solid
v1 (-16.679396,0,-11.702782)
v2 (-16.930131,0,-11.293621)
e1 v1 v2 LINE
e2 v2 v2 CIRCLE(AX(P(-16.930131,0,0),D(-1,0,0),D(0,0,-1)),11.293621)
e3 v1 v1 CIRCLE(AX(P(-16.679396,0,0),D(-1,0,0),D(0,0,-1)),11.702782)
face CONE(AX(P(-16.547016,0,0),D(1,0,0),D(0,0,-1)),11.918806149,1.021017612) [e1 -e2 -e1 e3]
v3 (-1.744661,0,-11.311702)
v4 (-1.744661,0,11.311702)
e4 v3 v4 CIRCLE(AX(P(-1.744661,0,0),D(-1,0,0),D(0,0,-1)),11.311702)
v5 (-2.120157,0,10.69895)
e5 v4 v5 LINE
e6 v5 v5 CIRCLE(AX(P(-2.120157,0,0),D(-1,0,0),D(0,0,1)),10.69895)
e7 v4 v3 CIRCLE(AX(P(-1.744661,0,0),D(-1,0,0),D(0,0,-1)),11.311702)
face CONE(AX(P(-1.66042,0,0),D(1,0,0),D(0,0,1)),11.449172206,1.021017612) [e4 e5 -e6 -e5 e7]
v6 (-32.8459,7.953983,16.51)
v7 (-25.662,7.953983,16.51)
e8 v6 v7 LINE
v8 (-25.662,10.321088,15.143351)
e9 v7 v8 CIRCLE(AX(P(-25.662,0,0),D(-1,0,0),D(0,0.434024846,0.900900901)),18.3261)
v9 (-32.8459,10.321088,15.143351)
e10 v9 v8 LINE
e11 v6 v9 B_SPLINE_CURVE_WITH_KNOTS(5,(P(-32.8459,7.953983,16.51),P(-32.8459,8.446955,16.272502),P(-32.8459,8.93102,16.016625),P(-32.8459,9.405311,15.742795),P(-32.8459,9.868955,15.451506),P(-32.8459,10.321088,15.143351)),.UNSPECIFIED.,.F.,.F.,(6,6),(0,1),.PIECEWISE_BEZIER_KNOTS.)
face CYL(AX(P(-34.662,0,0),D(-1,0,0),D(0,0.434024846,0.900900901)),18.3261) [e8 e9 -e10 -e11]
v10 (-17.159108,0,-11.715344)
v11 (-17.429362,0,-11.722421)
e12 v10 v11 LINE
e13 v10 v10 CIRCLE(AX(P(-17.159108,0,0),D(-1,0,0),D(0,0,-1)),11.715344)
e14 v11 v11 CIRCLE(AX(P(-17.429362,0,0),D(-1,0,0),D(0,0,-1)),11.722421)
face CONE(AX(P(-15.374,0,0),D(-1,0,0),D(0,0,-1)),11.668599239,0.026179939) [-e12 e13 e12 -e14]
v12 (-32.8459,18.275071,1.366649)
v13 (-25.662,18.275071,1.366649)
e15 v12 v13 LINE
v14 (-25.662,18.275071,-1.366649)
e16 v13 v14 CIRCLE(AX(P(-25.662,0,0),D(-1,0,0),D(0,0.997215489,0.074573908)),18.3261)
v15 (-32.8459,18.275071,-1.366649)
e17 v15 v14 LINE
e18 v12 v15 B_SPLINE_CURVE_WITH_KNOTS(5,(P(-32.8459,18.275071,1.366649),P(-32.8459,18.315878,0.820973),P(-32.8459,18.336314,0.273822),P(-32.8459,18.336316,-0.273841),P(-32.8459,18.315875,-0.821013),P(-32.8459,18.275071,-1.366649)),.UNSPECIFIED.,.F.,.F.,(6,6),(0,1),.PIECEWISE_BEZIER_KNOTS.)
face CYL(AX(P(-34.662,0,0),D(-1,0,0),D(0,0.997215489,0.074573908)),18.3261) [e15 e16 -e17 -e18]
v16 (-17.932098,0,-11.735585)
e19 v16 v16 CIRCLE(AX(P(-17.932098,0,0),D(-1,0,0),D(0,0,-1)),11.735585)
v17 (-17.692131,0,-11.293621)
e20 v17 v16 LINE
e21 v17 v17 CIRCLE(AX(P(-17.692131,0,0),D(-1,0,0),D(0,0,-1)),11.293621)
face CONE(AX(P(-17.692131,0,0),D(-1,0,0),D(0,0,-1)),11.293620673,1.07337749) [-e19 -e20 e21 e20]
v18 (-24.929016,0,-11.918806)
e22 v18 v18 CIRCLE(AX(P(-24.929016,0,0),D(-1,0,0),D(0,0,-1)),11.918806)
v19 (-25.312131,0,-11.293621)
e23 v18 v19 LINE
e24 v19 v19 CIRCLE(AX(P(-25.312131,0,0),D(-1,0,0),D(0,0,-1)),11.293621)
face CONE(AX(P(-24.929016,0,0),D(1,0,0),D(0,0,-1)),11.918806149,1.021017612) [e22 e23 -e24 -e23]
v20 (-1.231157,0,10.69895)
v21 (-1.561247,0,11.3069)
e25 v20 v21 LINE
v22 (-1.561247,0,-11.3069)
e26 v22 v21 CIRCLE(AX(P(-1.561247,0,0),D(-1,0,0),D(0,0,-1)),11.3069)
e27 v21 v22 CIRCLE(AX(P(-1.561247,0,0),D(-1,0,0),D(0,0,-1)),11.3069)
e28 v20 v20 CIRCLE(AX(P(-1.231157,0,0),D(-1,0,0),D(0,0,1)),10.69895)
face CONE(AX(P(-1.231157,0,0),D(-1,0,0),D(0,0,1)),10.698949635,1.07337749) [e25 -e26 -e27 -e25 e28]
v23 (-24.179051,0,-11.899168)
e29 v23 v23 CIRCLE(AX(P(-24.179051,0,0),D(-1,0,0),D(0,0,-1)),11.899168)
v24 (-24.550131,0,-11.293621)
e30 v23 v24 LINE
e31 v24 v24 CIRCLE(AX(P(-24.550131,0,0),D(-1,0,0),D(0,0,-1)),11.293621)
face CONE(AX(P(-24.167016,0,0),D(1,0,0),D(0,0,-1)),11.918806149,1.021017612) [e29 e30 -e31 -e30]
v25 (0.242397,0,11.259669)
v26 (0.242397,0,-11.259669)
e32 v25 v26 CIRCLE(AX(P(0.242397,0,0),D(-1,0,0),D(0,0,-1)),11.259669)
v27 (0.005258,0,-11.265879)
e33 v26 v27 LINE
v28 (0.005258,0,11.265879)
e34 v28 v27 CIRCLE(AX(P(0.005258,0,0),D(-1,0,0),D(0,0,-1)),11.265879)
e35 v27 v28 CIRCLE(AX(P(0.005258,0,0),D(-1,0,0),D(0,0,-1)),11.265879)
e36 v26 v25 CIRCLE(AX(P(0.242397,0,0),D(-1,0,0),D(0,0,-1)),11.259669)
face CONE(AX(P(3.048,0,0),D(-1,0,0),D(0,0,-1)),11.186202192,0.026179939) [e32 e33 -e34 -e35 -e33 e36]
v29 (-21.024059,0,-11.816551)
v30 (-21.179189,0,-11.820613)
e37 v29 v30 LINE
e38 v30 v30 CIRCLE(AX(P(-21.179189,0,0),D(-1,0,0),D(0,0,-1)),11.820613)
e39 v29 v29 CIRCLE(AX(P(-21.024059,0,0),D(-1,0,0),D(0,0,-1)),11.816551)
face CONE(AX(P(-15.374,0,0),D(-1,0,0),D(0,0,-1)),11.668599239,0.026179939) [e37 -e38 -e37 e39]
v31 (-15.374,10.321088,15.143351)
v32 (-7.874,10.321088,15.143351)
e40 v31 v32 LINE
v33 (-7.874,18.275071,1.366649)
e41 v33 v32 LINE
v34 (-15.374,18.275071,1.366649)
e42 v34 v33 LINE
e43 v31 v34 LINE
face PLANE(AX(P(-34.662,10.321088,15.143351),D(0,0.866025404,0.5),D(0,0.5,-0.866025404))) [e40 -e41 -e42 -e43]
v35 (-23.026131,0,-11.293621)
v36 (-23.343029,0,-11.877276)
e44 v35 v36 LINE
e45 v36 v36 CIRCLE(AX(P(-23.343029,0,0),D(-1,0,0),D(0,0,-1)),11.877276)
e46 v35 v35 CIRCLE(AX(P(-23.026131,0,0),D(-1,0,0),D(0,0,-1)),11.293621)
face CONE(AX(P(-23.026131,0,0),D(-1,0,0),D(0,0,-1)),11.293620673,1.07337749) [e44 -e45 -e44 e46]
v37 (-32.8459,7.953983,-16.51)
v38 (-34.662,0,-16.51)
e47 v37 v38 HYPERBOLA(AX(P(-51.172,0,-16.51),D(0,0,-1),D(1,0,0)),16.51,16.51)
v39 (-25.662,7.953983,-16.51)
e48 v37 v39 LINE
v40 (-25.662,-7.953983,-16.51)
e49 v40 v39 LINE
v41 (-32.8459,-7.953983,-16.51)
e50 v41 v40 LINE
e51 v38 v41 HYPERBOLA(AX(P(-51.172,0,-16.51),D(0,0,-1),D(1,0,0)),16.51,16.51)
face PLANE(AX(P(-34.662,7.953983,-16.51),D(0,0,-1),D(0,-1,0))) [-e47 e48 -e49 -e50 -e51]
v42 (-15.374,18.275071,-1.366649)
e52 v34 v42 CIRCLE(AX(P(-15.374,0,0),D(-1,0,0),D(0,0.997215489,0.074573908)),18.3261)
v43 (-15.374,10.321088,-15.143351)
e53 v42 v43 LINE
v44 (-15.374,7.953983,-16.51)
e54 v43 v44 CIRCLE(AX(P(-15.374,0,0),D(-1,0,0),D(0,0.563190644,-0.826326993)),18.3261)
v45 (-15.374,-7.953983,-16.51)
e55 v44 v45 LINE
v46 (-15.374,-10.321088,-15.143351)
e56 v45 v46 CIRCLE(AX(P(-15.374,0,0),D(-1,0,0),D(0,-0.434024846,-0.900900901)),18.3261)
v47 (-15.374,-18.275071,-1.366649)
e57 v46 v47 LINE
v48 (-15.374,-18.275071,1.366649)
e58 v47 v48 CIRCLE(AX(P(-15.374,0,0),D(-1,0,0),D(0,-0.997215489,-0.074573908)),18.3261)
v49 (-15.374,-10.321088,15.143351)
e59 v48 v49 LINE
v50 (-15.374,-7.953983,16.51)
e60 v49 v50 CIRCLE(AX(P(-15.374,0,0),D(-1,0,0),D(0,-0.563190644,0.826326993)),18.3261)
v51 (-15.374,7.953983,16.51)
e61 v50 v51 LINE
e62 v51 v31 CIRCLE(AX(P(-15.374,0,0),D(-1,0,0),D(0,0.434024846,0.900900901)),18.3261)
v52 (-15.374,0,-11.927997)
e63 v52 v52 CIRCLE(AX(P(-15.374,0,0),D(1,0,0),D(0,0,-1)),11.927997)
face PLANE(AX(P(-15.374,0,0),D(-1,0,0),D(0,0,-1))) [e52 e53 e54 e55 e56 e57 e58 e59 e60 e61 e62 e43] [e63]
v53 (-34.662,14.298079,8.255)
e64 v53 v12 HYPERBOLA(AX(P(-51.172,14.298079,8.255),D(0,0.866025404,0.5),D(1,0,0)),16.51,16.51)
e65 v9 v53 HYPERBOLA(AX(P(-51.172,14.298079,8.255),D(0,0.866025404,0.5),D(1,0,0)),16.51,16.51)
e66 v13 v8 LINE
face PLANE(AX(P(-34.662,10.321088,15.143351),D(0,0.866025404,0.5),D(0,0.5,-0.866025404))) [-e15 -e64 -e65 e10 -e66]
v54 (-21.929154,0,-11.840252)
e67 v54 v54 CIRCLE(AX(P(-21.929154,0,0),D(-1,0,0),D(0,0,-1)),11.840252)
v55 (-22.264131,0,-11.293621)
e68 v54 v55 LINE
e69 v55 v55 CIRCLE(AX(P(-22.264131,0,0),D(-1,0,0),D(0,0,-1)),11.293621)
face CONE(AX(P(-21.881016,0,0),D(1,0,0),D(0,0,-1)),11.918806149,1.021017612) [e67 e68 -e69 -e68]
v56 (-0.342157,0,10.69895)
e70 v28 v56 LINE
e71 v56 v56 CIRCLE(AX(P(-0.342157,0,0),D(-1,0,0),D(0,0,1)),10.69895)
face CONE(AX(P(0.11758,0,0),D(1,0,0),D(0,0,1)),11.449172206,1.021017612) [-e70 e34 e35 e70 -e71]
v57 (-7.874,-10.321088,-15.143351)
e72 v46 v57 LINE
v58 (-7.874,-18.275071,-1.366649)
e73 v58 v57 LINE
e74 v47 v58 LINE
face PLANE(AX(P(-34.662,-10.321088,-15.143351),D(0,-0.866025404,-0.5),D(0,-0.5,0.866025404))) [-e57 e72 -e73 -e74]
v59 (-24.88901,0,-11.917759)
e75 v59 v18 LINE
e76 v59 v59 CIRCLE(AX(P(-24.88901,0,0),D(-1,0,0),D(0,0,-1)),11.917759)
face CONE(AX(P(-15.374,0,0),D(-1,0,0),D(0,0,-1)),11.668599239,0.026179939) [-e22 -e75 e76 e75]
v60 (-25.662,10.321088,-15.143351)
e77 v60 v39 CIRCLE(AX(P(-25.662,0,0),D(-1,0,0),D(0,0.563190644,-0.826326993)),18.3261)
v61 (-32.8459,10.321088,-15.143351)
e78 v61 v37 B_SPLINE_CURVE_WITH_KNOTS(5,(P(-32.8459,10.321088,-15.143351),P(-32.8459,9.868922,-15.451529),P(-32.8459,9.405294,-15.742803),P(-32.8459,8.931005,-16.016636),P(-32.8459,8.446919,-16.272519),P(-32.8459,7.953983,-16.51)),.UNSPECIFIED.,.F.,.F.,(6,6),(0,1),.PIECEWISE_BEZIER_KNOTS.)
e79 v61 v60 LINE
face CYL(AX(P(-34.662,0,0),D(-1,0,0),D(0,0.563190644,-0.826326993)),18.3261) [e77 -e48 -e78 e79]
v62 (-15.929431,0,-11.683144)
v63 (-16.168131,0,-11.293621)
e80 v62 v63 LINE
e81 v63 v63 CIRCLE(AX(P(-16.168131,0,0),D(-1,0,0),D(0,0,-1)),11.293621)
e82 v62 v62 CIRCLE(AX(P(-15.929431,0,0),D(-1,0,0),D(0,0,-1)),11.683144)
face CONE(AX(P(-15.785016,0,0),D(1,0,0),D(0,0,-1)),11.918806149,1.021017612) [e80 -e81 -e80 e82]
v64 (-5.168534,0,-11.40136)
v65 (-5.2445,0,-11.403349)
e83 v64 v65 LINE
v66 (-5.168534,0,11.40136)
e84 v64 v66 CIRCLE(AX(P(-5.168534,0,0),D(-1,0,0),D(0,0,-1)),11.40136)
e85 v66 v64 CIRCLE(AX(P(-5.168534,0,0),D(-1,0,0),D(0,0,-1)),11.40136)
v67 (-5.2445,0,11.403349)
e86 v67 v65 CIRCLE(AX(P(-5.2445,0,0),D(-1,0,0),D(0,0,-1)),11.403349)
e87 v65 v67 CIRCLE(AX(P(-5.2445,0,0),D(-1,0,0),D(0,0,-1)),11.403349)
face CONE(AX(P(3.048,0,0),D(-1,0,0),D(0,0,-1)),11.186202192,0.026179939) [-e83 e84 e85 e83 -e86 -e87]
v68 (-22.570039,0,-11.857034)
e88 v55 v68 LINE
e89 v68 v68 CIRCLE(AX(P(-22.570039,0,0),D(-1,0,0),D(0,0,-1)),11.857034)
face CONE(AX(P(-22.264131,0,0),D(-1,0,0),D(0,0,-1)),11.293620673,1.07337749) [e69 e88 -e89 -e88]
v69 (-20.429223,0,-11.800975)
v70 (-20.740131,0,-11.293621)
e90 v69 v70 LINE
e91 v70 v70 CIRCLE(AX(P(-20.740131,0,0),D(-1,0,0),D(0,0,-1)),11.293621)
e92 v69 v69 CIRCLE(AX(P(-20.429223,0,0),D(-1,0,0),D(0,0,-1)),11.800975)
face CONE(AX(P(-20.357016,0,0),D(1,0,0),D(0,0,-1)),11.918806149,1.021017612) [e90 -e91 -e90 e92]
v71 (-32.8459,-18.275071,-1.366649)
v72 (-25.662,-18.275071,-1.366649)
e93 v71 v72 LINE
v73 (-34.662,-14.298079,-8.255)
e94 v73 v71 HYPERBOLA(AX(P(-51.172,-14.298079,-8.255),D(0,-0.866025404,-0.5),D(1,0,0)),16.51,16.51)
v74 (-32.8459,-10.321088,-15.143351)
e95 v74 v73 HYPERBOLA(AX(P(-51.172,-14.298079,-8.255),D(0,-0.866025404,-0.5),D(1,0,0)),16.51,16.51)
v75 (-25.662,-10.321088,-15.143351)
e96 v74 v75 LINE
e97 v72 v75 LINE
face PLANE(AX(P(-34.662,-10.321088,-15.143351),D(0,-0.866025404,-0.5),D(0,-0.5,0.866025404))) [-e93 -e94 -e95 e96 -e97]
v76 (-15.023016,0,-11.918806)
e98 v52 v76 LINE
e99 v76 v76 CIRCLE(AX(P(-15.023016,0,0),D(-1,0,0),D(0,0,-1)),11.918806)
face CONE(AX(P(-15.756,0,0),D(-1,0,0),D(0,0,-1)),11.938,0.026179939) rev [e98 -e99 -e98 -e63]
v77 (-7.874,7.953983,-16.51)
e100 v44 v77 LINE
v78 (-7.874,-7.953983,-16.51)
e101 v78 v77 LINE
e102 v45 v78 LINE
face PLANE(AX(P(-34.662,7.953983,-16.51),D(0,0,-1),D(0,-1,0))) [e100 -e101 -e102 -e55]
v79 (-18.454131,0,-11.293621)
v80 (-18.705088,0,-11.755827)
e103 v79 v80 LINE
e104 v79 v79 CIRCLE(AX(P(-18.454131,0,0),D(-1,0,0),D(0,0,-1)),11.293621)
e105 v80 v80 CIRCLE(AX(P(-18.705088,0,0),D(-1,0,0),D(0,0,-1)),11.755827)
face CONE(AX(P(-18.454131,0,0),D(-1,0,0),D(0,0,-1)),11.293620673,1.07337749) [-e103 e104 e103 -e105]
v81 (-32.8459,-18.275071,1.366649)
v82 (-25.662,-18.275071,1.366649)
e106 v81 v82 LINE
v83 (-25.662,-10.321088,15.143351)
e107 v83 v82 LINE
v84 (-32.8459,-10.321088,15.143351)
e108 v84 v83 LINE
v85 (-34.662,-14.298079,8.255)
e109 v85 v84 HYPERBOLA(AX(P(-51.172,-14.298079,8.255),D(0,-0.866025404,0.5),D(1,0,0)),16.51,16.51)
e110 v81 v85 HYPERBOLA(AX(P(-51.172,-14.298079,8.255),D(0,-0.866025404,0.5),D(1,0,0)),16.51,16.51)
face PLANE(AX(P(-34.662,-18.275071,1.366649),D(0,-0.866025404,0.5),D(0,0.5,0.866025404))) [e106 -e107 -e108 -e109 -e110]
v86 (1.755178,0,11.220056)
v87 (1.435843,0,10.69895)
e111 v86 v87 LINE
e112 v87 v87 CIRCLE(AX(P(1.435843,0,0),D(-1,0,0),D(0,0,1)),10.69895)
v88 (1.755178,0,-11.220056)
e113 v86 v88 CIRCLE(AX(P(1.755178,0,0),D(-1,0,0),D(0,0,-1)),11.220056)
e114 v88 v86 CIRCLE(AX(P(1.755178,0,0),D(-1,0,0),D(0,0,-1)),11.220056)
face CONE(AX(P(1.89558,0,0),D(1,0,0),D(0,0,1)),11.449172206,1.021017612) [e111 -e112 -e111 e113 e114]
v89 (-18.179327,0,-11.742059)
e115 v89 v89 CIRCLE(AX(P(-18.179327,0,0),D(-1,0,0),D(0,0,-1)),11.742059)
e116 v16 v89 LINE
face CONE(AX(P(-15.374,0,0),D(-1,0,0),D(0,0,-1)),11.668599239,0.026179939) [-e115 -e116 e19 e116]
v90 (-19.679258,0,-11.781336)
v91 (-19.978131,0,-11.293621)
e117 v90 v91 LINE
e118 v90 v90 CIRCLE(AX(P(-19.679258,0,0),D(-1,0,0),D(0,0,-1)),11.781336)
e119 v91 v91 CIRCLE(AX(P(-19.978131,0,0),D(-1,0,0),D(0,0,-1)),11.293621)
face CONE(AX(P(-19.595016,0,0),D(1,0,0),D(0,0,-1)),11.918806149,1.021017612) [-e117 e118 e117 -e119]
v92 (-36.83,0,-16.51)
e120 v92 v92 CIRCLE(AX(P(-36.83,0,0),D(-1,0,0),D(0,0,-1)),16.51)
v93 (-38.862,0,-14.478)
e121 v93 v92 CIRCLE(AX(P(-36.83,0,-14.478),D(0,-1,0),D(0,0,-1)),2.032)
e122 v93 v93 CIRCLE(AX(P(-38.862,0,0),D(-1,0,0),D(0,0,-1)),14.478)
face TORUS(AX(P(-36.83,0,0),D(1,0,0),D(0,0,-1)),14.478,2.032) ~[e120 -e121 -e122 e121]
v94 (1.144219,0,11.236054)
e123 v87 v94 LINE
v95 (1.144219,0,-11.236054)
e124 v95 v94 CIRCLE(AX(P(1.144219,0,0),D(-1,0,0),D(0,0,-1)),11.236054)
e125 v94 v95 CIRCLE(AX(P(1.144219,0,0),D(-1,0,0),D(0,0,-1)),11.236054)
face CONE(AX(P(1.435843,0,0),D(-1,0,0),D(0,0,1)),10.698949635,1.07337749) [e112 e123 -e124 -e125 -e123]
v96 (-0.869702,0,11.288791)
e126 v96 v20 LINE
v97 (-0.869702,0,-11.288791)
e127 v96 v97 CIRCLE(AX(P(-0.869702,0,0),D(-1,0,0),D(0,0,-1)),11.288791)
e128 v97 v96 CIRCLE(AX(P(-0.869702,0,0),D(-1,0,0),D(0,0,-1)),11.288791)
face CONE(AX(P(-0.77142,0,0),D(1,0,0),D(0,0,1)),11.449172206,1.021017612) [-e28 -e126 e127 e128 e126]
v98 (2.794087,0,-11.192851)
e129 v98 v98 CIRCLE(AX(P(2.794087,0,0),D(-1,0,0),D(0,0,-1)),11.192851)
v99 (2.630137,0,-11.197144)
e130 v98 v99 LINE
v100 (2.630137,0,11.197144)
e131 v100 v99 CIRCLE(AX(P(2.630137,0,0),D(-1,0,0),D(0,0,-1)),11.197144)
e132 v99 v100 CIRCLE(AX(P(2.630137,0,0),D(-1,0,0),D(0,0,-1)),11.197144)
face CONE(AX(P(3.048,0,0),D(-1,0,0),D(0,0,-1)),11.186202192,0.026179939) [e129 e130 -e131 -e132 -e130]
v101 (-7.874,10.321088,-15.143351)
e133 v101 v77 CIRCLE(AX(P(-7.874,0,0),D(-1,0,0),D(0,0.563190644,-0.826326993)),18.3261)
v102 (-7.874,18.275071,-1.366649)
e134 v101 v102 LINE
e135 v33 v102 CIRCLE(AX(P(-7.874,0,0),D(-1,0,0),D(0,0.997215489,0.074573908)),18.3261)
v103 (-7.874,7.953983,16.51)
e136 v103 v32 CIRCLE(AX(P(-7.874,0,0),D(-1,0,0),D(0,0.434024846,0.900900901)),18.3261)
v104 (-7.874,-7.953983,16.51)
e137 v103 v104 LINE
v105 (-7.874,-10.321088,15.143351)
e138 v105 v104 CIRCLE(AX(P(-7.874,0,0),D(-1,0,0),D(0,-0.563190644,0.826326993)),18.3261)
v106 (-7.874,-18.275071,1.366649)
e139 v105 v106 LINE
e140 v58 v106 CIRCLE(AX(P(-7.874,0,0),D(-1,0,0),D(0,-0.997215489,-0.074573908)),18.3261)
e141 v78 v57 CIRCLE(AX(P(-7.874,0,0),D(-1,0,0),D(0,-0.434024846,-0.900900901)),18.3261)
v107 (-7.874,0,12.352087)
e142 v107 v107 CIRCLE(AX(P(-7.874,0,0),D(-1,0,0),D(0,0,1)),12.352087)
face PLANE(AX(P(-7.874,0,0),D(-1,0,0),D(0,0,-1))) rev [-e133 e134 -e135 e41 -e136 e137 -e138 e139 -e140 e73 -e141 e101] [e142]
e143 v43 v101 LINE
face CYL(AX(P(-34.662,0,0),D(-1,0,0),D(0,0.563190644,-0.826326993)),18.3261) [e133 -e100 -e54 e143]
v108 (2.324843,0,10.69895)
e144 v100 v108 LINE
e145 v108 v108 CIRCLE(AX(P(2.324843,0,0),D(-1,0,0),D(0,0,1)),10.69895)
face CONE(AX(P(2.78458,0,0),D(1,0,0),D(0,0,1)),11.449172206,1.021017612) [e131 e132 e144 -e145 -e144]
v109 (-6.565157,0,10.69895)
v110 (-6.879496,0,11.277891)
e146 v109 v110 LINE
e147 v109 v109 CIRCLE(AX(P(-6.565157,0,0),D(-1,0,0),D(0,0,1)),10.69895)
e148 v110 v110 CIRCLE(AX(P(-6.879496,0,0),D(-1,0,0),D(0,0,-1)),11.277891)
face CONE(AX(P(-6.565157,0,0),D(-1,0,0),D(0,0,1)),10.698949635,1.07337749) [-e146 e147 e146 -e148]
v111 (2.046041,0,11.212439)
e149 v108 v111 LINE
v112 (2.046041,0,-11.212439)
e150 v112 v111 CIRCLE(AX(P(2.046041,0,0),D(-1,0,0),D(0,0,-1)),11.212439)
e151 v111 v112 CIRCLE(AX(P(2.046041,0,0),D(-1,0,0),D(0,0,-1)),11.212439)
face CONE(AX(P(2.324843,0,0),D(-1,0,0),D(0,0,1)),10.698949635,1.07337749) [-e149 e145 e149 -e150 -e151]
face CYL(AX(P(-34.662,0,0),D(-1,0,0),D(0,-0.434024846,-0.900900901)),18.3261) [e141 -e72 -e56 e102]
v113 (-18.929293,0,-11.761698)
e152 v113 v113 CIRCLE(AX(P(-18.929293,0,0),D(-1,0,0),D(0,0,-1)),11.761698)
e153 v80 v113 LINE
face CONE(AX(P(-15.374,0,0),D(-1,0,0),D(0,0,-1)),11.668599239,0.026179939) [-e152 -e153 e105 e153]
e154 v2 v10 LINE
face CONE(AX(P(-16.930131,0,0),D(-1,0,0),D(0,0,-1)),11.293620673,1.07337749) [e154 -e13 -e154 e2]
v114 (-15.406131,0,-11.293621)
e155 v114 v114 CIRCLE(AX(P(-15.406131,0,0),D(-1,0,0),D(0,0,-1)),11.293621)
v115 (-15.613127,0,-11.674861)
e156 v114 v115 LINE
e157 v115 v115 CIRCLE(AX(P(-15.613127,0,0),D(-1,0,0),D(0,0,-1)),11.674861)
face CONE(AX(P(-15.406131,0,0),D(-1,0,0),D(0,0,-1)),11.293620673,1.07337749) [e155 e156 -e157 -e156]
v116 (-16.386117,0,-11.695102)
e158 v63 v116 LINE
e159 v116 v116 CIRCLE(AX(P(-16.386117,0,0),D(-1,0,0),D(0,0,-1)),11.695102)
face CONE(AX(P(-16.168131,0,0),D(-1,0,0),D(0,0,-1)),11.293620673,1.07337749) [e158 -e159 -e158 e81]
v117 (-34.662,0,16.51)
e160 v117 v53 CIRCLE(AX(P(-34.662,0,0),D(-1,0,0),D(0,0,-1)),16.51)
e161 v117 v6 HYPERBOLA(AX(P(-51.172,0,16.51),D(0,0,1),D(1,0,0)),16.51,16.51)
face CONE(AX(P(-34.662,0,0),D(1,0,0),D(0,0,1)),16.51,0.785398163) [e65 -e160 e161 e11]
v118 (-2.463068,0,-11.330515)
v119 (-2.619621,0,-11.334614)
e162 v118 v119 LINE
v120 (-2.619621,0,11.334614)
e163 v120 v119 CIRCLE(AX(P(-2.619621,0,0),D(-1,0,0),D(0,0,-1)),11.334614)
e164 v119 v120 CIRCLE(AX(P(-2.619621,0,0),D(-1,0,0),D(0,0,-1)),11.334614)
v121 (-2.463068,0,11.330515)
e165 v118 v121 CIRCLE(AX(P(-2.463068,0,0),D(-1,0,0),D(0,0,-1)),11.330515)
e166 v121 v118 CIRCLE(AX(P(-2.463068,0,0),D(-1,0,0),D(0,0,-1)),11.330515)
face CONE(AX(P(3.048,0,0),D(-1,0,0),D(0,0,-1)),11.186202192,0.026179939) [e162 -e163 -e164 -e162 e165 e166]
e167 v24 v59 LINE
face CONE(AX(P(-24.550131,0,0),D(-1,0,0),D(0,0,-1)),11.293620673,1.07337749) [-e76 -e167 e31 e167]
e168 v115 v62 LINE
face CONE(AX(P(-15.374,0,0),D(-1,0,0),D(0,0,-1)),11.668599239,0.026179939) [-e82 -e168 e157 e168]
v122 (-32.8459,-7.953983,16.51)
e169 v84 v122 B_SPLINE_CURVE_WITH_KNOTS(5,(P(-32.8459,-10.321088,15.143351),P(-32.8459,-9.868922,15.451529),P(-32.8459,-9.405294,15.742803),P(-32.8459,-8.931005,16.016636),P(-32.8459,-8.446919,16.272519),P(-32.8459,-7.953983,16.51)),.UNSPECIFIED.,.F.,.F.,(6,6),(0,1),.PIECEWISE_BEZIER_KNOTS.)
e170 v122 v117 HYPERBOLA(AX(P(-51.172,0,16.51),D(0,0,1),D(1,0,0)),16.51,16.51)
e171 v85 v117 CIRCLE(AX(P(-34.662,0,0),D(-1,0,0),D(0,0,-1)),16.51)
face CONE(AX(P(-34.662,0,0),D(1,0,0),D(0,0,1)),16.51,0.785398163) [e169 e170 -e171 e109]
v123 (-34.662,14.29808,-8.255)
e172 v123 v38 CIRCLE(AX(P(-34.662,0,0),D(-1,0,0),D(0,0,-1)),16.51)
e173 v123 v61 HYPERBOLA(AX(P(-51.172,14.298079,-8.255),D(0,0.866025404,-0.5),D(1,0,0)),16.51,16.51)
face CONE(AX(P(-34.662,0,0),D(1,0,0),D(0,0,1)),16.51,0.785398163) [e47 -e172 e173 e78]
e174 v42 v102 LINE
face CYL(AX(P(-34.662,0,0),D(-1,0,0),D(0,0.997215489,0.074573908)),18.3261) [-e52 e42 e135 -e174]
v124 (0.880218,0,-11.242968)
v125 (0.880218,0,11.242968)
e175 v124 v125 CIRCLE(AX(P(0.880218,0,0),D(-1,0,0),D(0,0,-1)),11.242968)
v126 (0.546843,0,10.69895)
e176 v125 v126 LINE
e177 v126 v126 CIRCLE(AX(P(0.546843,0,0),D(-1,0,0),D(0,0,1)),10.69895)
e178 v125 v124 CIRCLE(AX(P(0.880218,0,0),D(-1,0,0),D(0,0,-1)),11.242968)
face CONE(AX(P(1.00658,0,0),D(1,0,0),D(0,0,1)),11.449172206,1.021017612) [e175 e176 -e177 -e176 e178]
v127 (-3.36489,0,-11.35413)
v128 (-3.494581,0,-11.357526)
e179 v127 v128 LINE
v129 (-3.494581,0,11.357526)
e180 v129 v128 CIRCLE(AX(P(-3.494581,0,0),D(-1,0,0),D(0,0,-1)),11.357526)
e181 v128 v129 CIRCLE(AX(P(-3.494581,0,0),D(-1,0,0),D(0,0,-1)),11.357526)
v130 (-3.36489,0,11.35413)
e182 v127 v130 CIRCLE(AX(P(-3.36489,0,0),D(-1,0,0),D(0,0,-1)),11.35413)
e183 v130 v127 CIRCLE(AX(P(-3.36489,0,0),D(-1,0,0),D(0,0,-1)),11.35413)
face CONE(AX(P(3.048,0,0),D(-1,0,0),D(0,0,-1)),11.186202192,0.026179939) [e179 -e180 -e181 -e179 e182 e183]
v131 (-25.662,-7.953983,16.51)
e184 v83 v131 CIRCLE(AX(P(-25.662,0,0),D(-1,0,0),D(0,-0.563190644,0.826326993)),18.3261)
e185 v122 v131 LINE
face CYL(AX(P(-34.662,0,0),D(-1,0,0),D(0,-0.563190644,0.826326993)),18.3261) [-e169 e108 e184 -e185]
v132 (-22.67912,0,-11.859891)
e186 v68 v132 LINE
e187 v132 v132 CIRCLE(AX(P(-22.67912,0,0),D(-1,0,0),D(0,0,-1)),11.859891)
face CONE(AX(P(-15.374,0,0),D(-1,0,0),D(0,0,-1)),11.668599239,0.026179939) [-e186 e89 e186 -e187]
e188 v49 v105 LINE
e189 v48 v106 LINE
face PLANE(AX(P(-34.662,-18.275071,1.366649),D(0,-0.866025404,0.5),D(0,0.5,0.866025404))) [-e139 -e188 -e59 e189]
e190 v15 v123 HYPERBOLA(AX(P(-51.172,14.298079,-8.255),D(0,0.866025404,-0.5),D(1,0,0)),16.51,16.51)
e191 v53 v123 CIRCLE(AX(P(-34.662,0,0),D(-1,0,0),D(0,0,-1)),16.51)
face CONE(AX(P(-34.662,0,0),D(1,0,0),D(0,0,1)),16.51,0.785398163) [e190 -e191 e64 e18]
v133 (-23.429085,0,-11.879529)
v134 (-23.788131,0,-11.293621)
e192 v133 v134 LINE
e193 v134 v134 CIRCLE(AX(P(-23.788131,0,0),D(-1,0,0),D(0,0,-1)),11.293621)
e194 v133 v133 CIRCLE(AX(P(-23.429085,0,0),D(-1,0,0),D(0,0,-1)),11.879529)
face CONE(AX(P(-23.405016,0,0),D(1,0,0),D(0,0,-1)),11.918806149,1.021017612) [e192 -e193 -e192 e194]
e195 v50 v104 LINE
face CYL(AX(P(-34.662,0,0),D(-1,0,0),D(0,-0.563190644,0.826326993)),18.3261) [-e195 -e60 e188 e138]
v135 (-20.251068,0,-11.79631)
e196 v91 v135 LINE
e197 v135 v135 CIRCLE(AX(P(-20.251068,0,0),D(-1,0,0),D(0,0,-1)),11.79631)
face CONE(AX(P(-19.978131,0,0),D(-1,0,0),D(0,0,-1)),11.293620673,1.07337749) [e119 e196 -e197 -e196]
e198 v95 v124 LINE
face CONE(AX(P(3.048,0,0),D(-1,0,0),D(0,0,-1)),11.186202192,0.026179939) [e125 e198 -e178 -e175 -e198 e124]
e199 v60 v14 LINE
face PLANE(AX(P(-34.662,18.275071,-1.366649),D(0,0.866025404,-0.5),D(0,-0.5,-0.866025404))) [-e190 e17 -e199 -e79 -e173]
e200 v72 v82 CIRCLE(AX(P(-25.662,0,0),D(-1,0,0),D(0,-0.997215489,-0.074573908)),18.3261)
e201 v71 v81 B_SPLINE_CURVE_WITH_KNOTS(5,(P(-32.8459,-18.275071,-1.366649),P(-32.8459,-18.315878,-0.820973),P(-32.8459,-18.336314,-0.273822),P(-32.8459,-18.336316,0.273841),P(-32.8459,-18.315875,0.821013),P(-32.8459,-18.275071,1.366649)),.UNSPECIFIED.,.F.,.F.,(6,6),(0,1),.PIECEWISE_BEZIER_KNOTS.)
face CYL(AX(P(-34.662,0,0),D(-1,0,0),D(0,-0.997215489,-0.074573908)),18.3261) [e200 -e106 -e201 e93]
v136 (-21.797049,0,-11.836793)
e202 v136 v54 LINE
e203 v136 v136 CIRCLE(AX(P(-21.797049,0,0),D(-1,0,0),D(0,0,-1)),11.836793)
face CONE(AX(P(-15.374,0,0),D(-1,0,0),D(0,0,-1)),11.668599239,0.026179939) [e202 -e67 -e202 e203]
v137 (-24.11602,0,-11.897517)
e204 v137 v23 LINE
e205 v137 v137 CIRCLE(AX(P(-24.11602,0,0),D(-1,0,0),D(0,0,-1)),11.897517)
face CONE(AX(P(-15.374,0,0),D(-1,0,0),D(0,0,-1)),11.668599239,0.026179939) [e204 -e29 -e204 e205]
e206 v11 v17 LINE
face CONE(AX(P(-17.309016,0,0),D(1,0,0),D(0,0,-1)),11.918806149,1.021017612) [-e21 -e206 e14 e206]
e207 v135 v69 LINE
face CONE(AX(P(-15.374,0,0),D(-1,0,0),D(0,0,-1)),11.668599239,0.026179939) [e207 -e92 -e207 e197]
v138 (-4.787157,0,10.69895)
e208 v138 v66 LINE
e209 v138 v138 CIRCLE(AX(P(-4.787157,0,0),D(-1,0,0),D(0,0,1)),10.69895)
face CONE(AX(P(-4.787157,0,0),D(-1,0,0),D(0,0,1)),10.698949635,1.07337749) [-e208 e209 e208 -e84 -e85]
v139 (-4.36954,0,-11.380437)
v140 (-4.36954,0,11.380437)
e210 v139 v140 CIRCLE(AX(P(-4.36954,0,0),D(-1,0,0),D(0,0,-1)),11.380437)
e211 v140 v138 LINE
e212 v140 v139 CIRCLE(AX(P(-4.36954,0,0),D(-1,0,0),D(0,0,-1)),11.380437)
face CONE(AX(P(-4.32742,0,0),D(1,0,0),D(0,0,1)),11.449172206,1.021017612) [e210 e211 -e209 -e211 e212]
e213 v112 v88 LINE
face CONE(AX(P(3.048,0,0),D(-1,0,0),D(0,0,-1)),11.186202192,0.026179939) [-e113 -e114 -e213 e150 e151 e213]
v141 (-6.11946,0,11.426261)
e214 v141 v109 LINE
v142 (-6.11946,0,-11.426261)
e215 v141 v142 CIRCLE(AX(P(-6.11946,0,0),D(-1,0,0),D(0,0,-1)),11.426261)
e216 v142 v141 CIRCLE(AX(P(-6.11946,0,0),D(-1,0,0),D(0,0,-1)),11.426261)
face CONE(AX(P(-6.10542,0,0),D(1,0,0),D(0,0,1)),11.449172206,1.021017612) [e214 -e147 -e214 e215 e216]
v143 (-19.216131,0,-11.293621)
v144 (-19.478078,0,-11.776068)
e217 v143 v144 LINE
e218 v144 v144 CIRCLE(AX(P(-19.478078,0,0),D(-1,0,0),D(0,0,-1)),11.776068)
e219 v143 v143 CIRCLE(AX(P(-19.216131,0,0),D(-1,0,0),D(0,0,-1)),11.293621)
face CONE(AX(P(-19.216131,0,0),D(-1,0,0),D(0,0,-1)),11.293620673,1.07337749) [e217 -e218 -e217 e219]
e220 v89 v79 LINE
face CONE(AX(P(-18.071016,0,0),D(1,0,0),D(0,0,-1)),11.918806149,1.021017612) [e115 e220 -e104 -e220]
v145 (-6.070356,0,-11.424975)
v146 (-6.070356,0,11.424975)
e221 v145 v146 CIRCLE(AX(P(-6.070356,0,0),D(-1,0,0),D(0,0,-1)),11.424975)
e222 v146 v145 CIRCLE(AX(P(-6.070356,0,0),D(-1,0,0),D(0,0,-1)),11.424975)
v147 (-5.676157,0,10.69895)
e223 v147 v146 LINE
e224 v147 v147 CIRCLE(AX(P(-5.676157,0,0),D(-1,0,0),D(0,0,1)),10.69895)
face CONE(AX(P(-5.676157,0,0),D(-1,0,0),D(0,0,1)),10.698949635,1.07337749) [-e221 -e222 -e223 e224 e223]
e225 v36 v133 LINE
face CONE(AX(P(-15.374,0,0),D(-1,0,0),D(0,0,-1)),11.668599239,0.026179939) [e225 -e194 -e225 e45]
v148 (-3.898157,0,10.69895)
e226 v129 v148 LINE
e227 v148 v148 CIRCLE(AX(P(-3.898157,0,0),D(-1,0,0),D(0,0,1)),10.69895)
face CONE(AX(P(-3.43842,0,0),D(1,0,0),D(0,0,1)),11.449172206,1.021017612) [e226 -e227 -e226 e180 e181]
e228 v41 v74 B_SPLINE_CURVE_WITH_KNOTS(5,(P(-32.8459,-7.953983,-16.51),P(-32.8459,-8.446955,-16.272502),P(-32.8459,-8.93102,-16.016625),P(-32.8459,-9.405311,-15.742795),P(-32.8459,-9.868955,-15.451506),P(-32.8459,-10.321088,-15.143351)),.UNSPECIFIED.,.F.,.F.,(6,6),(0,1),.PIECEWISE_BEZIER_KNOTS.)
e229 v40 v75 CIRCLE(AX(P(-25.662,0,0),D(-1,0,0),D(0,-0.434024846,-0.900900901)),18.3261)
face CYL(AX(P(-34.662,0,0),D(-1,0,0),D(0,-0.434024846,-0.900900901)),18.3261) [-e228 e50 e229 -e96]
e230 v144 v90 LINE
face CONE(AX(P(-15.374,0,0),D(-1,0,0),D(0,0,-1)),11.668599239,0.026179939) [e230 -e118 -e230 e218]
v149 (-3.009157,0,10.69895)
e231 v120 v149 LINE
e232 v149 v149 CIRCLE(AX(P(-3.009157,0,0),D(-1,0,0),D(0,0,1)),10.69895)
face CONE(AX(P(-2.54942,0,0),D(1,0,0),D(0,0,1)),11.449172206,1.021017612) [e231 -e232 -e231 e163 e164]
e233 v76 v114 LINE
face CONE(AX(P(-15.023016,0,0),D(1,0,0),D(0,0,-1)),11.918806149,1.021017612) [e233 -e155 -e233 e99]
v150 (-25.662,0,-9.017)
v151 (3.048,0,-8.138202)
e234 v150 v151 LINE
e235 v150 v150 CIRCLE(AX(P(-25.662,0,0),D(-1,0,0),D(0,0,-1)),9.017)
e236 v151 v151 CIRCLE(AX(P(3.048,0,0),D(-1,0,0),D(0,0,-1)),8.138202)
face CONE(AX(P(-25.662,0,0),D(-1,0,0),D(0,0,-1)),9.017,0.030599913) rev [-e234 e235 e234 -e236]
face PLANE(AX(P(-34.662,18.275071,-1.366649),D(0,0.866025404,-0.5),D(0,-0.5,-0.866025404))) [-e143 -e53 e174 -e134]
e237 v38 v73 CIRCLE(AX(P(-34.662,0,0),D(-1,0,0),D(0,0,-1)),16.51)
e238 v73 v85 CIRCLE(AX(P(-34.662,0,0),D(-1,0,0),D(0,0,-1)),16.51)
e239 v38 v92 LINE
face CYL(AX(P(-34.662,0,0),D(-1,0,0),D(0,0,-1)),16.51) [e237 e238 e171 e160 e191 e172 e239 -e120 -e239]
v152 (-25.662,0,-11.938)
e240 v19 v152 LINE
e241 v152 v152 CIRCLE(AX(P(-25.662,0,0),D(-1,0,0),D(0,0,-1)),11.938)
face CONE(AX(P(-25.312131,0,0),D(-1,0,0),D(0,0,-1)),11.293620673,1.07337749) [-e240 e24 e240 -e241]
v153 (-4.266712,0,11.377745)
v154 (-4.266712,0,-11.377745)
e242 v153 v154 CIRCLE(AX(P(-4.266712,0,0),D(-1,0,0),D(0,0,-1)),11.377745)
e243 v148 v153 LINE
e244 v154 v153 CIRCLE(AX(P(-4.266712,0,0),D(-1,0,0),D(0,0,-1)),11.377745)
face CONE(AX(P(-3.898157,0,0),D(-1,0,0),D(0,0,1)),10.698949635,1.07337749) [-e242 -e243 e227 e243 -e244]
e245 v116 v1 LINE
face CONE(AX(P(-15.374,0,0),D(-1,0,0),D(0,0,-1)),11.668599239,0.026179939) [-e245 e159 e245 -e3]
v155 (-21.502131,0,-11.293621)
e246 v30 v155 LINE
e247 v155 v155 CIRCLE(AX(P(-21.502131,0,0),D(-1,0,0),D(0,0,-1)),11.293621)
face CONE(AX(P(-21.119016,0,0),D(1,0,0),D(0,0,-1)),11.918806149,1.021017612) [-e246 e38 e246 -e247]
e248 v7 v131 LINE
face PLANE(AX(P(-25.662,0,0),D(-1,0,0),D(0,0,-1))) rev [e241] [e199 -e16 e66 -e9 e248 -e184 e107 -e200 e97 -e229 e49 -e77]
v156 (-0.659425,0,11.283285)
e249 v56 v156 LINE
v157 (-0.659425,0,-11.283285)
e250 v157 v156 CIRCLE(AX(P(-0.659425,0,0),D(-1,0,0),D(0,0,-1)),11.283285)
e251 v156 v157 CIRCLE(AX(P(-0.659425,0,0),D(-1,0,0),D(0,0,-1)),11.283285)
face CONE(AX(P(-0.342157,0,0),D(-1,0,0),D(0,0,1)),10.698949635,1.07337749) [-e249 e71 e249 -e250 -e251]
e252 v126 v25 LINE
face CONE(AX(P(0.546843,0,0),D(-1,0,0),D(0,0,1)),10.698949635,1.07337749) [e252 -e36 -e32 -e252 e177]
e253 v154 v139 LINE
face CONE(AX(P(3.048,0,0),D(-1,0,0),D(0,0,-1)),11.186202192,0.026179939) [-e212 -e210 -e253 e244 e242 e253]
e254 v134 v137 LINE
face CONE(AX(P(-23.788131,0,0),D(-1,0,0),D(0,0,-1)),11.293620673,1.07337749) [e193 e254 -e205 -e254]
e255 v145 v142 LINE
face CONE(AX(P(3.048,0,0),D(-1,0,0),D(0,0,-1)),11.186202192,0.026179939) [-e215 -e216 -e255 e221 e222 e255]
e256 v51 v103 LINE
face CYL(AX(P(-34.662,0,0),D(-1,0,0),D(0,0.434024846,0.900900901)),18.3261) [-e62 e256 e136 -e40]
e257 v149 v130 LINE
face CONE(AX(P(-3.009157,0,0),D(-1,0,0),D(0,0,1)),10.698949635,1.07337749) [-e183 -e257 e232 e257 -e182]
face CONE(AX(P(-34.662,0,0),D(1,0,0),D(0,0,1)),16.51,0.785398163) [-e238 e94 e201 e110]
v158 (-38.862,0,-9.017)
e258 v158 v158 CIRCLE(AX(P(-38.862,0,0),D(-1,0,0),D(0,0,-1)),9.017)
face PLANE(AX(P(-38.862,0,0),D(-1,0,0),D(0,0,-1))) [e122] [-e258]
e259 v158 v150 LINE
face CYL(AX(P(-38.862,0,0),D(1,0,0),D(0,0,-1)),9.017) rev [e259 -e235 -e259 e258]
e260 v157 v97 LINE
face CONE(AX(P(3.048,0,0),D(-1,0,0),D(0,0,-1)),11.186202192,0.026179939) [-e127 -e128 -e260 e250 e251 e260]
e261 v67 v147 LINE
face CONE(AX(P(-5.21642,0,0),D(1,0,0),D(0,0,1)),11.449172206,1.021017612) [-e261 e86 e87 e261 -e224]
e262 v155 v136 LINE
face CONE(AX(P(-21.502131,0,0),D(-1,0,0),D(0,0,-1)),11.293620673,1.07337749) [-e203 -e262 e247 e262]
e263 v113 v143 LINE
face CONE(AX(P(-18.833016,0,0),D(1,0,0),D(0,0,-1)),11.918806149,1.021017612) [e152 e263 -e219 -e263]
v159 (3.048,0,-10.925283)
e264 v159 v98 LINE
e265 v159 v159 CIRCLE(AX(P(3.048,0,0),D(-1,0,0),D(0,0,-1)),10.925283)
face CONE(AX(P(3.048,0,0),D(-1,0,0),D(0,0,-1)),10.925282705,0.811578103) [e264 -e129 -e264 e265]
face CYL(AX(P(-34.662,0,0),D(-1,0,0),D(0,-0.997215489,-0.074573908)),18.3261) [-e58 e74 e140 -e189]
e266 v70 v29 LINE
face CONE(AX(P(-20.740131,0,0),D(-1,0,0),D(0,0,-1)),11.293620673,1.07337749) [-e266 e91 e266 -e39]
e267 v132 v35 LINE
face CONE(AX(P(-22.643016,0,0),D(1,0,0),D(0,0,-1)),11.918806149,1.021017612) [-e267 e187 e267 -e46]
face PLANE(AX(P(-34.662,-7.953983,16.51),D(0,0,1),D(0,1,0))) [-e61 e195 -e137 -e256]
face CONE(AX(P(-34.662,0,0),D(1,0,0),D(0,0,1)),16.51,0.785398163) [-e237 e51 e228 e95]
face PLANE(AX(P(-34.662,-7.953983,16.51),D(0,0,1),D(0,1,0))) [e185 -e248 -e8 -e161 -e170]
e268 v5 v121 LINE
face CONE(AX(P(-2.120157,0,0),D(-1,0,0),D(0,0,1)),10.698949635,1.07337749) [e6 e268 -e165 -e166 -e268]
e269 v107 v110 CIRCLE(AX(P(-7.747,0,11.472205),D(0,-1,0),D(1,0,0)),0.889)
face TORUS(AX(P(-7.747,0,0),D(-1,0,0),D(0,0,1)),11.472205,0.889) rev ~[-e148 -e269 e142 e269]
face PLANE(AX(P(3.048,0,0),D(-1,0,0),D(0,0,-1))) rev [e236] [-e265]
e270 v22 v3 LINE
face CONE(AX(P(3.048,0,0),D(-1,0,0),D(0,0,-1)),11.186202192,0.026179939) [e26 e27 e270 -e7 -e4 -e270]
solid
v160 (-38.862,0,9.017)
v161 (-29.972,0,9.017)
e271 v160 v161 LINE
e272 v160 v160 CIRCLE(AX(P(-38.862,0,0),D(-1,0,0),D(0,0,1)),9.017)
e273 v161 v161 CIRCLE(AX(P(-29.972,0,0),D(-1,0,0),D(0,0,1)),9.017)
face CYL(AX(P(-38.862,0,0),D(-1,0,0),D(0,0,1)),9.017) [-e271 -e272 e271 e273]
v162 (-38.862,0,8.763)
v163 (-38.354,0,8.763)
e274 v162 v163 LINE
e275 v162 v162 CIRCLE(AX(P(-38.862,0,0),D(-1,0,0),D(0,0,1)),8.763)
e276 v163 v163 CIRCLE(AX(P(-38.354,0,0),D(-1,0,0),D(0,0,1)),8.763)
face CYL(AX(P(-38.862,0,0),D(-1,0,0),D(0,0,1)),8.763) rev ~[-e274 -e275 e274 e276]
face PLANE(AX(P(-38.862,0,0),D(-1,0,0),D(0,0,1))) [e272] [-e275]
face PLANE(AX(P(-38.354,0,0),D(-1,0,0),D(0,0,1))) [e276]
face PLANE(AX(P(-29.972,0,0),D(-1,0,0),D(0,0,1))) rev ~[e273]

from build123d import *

# Parameters (mm, degrees)
SKETCH12_OUTSIDE_W = 88.514
SKETCH12_OUTSIDE_H = 88.514
CUT_EXTRUDE2_DEPTH = 38.71
FILLET4_R          = 2.032
SKETCH19_OUTSIDE_W = 55.962
SKETCH19_OUTSIDE_H = 59.594
SKETCH19_OUTSIDE_R = 16.51
CUT_EXTRUDE3_DEPTH = 3.99796
CUT_EXTRUDE3_DRAFT = -45
CHAMFER1_SIZE      = 0.260919487
CHAMFER1_SIZE2     = 0.254
SKETCH21_R         = 9.017
PLUG_DEPTH         = 8.89
SKETCH22_R         = 8.763
CUT_EXTRUDE4_DEPTH = 0.508
LPATTERN1_COUNT    = 14
LPATTERN1_PITCH    = 0.762
LPATTERN2_COUNT    = 12
LPATTERN2_PITCH    = 0.889
SKETCH32_R         = 0.889


with BuildPart() as part:
    # Sketch10 → Revolve2 (revolve)
    with BuildSketch(Plane.XY, mode=Mode.PRIVATE) as revolve2_sk:
        Polygon((-38.862, 9.017), (-25.662, 9.017), (3.048, 8.138202192), (3.048, 11.186202192), (-7.874, 11.472204827), (-7.874, 33.02), (-15.374, 33.02), (-15.374, 11.668599239), (-25.662, 11.938), (-25.662, 33.02), (-34.662, 33.02), (-34.662, 16.51), (-38.862, 16.51), align=None)
    revolve(revolve2_sk.sketch.rotate(Axis((0, 0, 0), (-1, 0, 0)), 90), axis=Axis((0, 0, 0), (-1, 0, 0)))  # turned: the seam where the file's is

    # Sketch12 outside → Cut-Extrude2 (cut, through all)
    with BuildSketch(Plane.ZY.offset(34.662)):
        Rectangle(SKETCH12_OUTSIDE_W, SKETCH12_OUTSIDE_H)
        with BuildLine():
            Line((-1.366648898, 18.27507078), (-15.143351102, 10.321088053))
            ThreePointArc((-15.143351102, 10.321088053), (-15.870868152, 9.16305), (-16.51, 7.953982726))
            Line((-16.51, 7.953982726), (-16.51, -7.953982726))
            ThreePointArc((-16.51, -7.953982726), (-15.870868152, -9.16305), (-15.143351102, -10.321088053))
            Line((-15.143351102, -10.321088053), (-1.366648898, -18.27507078))
            ThreePointArc((-1.366648898, -18.27507078), (0, -18.3261), (1.366648898, -18.27507078))
            Line((1.366648898, -18.27507078), (15.143351102, -10.321088053))
            ThreePointArc((15.143351102, -10.321088053), (15.870868152, -9.16305), (16.51, -7.953982726))
            Line((16.51, -7.953982726), (16.51, 7.953982726))
            ThreePointArc((16.51, 7.953982726), (15.870868152, 9.16305), (15.143351102, 10.321088053))
            Line((15.143351102, 10.321088053), (1.366648898, 18.27507078))
            ThreePointArc((1.366648898, 18.27507078), (0, 18.3261), (-1.366648898, 18.27507078))
        make_face(mode=Mode.SUBTRACT)
    extrude(amount=-CUT_EXTRUDE2_DEPTH, mode=Mode.SUBTRACT)

    # Fillet4
    fillet4_edges = [part.edges().sort_by_distance(p)[0] for p in [
        (-38.862, 0, 16.51),
    ]]
    fillet(fillet4_edges, radius=FILLET4_R)


with BuildPart() as cut_extrude3_tool:
    # Sketch19 outside → Cut-Extrude3 (with draft: the straight prism first)
    with BuildSketch(Plane.ZY.offset(34.662)):
        Rectangle(SKETCH19_OUTSIDE_W, SKETCH19_OUTSIDE_H)
        Circle(SKETCH19_OUTSIDE_R, mode=Mode.SUBTRACT)
    extrude(amount=-CUT_EXTRUDE3_DEPTH)
    # Cut-Extrude3: the draft: its side faces are tilted about the plane it starts from
    cut_extrude3_sides = [cut_extrude3_tool.faces().sort_by_distance(p)[0] for p in [
        (-32.66302, -29.797, 0),
        (-32.66302, 0, 27.981),
        (-32.66302, 29.797, 0),
        (-32.66302, 0, -27.981),
        (-32.66302, 0, -16.51),
    ]]
    draft(cut_extrude3_sides, Plane.ZY.offset(34.662), CUT_EXTRUDE3_DRAFT)


with BuildPart() as part_1:
    add(part.part)

    # Cut-Extrude3: cut by cut_extrude3_tool
    add(cut_extrude3_tool.part, mode=Mode.SUBTRACT)

    # Chamfer1
    chamfer1_edges = [part_1.edges().sort_by_distance(p)[0] for p in [
        (3.048, 0, 11.186202192),
    ]]
    chamfer1_side = [part_1.faces().sort_by_distance(p)[0] for p in [
        (3.048, 0, 8.454595769),
    ]]
    chamfer(chamfer1_edges, length=CHAMFER1_SIZE, length2=CHAMFER1_SIZE2, reference=chamfer1_side[0])

    # Sketch29 → Cut-Revolve1 (revolve, cut)
    with BuildSketch(Plane.XY, mode=Mode.PRIVATE) as cut_revolve1_sk:
        Polygon((-25.662, 11.938), (-24.929016419, 11.918806149), (-25.312130572, 11.293620673), align=None)
    cut_revolve1 = revolve(cut_revolve1_sk.sketch.rotate(Axis((0, 0, 0), (-1, 0, 0)), 90), axis=Axis((0, 0, 0), (-1, 0, 0)), mode=Mode.SUBTRACT)  # turned: the seam where the file's is

    # LPattern1: Cut-Revolve1 ×14
    with Locations(*[(i * LPATTERN1_PITCH, 0, 0) for i in range(1, LPATTERN1_COUNT)]):
        add(cut_revolve1, mode=Mode.SUBTRACT)

    # Sketch30 → Cut-Revolve2 (revolve, cut)
    with BuildSketch(Plane.XY, mode=Mode.PRIVATE) as cut_revolve2_sk:
        Polygon((-7.874, 11.472204827), (-6.994419703, 11.449172206), (-7.454156686, 10.698949635), align=None)
    cut_revolve2 = revolve(cut_revolve2_sk.sketch.rotate(Axis((0, 0, 0), (-1, 0, 0)), 270), axis=Axis((0, 0, 0), (-1, 0, 0)), mode=Mode.SUBTRACT)  # turned: the seam where the file's is

    # LPattern2: Cut-Revolve2 ×12
    with Locations(*[(i * LPATTERN2_PITCH, 0, 0) for i in range(1, LPATTERN2_COUNT)]):
        add(cut_revolve2, mode=Mode.SUBTRACT)

    # Sketch32 → Cut-Revolve3 (revolve, cut)
    with BuildSketch(Plane.XY, mode=Mode.PRIVATE) as cut_revolve3_sk:
        with Locations((-7.747, 11.472204827)):
            Circle(SKETCH32_R)
    revolve(cut_revolve3_sk.sketch.rotate(Axis((0, 0, 0), (-1, 0, 0)), 270), axis=Axis((0, 0, 0), (-1, 0, 0)), mode=Mode.SUBTRACT)  # turned: the seam where the file's is


with BuildPart() as body_2:
    # Sketch21 → plug (new body)
    with BuildSketch(Plane.ZY.offset(38.862)):
        Circle(SKETCH21_R)
    extrude(amount=-PLUG_DEPTH)

    # Sketch22 → Cut-Extrude4 (cut)
    with BuildSketch(Plane.ZY.offset(38.862)):
        Circle(SKETCH22_R)
    extrude(amount=-CUT_EXTRUDE4_DEPTH, mode=Mode.SUBTRACT)


solid = Compound([part_1.part, body_2.part])
